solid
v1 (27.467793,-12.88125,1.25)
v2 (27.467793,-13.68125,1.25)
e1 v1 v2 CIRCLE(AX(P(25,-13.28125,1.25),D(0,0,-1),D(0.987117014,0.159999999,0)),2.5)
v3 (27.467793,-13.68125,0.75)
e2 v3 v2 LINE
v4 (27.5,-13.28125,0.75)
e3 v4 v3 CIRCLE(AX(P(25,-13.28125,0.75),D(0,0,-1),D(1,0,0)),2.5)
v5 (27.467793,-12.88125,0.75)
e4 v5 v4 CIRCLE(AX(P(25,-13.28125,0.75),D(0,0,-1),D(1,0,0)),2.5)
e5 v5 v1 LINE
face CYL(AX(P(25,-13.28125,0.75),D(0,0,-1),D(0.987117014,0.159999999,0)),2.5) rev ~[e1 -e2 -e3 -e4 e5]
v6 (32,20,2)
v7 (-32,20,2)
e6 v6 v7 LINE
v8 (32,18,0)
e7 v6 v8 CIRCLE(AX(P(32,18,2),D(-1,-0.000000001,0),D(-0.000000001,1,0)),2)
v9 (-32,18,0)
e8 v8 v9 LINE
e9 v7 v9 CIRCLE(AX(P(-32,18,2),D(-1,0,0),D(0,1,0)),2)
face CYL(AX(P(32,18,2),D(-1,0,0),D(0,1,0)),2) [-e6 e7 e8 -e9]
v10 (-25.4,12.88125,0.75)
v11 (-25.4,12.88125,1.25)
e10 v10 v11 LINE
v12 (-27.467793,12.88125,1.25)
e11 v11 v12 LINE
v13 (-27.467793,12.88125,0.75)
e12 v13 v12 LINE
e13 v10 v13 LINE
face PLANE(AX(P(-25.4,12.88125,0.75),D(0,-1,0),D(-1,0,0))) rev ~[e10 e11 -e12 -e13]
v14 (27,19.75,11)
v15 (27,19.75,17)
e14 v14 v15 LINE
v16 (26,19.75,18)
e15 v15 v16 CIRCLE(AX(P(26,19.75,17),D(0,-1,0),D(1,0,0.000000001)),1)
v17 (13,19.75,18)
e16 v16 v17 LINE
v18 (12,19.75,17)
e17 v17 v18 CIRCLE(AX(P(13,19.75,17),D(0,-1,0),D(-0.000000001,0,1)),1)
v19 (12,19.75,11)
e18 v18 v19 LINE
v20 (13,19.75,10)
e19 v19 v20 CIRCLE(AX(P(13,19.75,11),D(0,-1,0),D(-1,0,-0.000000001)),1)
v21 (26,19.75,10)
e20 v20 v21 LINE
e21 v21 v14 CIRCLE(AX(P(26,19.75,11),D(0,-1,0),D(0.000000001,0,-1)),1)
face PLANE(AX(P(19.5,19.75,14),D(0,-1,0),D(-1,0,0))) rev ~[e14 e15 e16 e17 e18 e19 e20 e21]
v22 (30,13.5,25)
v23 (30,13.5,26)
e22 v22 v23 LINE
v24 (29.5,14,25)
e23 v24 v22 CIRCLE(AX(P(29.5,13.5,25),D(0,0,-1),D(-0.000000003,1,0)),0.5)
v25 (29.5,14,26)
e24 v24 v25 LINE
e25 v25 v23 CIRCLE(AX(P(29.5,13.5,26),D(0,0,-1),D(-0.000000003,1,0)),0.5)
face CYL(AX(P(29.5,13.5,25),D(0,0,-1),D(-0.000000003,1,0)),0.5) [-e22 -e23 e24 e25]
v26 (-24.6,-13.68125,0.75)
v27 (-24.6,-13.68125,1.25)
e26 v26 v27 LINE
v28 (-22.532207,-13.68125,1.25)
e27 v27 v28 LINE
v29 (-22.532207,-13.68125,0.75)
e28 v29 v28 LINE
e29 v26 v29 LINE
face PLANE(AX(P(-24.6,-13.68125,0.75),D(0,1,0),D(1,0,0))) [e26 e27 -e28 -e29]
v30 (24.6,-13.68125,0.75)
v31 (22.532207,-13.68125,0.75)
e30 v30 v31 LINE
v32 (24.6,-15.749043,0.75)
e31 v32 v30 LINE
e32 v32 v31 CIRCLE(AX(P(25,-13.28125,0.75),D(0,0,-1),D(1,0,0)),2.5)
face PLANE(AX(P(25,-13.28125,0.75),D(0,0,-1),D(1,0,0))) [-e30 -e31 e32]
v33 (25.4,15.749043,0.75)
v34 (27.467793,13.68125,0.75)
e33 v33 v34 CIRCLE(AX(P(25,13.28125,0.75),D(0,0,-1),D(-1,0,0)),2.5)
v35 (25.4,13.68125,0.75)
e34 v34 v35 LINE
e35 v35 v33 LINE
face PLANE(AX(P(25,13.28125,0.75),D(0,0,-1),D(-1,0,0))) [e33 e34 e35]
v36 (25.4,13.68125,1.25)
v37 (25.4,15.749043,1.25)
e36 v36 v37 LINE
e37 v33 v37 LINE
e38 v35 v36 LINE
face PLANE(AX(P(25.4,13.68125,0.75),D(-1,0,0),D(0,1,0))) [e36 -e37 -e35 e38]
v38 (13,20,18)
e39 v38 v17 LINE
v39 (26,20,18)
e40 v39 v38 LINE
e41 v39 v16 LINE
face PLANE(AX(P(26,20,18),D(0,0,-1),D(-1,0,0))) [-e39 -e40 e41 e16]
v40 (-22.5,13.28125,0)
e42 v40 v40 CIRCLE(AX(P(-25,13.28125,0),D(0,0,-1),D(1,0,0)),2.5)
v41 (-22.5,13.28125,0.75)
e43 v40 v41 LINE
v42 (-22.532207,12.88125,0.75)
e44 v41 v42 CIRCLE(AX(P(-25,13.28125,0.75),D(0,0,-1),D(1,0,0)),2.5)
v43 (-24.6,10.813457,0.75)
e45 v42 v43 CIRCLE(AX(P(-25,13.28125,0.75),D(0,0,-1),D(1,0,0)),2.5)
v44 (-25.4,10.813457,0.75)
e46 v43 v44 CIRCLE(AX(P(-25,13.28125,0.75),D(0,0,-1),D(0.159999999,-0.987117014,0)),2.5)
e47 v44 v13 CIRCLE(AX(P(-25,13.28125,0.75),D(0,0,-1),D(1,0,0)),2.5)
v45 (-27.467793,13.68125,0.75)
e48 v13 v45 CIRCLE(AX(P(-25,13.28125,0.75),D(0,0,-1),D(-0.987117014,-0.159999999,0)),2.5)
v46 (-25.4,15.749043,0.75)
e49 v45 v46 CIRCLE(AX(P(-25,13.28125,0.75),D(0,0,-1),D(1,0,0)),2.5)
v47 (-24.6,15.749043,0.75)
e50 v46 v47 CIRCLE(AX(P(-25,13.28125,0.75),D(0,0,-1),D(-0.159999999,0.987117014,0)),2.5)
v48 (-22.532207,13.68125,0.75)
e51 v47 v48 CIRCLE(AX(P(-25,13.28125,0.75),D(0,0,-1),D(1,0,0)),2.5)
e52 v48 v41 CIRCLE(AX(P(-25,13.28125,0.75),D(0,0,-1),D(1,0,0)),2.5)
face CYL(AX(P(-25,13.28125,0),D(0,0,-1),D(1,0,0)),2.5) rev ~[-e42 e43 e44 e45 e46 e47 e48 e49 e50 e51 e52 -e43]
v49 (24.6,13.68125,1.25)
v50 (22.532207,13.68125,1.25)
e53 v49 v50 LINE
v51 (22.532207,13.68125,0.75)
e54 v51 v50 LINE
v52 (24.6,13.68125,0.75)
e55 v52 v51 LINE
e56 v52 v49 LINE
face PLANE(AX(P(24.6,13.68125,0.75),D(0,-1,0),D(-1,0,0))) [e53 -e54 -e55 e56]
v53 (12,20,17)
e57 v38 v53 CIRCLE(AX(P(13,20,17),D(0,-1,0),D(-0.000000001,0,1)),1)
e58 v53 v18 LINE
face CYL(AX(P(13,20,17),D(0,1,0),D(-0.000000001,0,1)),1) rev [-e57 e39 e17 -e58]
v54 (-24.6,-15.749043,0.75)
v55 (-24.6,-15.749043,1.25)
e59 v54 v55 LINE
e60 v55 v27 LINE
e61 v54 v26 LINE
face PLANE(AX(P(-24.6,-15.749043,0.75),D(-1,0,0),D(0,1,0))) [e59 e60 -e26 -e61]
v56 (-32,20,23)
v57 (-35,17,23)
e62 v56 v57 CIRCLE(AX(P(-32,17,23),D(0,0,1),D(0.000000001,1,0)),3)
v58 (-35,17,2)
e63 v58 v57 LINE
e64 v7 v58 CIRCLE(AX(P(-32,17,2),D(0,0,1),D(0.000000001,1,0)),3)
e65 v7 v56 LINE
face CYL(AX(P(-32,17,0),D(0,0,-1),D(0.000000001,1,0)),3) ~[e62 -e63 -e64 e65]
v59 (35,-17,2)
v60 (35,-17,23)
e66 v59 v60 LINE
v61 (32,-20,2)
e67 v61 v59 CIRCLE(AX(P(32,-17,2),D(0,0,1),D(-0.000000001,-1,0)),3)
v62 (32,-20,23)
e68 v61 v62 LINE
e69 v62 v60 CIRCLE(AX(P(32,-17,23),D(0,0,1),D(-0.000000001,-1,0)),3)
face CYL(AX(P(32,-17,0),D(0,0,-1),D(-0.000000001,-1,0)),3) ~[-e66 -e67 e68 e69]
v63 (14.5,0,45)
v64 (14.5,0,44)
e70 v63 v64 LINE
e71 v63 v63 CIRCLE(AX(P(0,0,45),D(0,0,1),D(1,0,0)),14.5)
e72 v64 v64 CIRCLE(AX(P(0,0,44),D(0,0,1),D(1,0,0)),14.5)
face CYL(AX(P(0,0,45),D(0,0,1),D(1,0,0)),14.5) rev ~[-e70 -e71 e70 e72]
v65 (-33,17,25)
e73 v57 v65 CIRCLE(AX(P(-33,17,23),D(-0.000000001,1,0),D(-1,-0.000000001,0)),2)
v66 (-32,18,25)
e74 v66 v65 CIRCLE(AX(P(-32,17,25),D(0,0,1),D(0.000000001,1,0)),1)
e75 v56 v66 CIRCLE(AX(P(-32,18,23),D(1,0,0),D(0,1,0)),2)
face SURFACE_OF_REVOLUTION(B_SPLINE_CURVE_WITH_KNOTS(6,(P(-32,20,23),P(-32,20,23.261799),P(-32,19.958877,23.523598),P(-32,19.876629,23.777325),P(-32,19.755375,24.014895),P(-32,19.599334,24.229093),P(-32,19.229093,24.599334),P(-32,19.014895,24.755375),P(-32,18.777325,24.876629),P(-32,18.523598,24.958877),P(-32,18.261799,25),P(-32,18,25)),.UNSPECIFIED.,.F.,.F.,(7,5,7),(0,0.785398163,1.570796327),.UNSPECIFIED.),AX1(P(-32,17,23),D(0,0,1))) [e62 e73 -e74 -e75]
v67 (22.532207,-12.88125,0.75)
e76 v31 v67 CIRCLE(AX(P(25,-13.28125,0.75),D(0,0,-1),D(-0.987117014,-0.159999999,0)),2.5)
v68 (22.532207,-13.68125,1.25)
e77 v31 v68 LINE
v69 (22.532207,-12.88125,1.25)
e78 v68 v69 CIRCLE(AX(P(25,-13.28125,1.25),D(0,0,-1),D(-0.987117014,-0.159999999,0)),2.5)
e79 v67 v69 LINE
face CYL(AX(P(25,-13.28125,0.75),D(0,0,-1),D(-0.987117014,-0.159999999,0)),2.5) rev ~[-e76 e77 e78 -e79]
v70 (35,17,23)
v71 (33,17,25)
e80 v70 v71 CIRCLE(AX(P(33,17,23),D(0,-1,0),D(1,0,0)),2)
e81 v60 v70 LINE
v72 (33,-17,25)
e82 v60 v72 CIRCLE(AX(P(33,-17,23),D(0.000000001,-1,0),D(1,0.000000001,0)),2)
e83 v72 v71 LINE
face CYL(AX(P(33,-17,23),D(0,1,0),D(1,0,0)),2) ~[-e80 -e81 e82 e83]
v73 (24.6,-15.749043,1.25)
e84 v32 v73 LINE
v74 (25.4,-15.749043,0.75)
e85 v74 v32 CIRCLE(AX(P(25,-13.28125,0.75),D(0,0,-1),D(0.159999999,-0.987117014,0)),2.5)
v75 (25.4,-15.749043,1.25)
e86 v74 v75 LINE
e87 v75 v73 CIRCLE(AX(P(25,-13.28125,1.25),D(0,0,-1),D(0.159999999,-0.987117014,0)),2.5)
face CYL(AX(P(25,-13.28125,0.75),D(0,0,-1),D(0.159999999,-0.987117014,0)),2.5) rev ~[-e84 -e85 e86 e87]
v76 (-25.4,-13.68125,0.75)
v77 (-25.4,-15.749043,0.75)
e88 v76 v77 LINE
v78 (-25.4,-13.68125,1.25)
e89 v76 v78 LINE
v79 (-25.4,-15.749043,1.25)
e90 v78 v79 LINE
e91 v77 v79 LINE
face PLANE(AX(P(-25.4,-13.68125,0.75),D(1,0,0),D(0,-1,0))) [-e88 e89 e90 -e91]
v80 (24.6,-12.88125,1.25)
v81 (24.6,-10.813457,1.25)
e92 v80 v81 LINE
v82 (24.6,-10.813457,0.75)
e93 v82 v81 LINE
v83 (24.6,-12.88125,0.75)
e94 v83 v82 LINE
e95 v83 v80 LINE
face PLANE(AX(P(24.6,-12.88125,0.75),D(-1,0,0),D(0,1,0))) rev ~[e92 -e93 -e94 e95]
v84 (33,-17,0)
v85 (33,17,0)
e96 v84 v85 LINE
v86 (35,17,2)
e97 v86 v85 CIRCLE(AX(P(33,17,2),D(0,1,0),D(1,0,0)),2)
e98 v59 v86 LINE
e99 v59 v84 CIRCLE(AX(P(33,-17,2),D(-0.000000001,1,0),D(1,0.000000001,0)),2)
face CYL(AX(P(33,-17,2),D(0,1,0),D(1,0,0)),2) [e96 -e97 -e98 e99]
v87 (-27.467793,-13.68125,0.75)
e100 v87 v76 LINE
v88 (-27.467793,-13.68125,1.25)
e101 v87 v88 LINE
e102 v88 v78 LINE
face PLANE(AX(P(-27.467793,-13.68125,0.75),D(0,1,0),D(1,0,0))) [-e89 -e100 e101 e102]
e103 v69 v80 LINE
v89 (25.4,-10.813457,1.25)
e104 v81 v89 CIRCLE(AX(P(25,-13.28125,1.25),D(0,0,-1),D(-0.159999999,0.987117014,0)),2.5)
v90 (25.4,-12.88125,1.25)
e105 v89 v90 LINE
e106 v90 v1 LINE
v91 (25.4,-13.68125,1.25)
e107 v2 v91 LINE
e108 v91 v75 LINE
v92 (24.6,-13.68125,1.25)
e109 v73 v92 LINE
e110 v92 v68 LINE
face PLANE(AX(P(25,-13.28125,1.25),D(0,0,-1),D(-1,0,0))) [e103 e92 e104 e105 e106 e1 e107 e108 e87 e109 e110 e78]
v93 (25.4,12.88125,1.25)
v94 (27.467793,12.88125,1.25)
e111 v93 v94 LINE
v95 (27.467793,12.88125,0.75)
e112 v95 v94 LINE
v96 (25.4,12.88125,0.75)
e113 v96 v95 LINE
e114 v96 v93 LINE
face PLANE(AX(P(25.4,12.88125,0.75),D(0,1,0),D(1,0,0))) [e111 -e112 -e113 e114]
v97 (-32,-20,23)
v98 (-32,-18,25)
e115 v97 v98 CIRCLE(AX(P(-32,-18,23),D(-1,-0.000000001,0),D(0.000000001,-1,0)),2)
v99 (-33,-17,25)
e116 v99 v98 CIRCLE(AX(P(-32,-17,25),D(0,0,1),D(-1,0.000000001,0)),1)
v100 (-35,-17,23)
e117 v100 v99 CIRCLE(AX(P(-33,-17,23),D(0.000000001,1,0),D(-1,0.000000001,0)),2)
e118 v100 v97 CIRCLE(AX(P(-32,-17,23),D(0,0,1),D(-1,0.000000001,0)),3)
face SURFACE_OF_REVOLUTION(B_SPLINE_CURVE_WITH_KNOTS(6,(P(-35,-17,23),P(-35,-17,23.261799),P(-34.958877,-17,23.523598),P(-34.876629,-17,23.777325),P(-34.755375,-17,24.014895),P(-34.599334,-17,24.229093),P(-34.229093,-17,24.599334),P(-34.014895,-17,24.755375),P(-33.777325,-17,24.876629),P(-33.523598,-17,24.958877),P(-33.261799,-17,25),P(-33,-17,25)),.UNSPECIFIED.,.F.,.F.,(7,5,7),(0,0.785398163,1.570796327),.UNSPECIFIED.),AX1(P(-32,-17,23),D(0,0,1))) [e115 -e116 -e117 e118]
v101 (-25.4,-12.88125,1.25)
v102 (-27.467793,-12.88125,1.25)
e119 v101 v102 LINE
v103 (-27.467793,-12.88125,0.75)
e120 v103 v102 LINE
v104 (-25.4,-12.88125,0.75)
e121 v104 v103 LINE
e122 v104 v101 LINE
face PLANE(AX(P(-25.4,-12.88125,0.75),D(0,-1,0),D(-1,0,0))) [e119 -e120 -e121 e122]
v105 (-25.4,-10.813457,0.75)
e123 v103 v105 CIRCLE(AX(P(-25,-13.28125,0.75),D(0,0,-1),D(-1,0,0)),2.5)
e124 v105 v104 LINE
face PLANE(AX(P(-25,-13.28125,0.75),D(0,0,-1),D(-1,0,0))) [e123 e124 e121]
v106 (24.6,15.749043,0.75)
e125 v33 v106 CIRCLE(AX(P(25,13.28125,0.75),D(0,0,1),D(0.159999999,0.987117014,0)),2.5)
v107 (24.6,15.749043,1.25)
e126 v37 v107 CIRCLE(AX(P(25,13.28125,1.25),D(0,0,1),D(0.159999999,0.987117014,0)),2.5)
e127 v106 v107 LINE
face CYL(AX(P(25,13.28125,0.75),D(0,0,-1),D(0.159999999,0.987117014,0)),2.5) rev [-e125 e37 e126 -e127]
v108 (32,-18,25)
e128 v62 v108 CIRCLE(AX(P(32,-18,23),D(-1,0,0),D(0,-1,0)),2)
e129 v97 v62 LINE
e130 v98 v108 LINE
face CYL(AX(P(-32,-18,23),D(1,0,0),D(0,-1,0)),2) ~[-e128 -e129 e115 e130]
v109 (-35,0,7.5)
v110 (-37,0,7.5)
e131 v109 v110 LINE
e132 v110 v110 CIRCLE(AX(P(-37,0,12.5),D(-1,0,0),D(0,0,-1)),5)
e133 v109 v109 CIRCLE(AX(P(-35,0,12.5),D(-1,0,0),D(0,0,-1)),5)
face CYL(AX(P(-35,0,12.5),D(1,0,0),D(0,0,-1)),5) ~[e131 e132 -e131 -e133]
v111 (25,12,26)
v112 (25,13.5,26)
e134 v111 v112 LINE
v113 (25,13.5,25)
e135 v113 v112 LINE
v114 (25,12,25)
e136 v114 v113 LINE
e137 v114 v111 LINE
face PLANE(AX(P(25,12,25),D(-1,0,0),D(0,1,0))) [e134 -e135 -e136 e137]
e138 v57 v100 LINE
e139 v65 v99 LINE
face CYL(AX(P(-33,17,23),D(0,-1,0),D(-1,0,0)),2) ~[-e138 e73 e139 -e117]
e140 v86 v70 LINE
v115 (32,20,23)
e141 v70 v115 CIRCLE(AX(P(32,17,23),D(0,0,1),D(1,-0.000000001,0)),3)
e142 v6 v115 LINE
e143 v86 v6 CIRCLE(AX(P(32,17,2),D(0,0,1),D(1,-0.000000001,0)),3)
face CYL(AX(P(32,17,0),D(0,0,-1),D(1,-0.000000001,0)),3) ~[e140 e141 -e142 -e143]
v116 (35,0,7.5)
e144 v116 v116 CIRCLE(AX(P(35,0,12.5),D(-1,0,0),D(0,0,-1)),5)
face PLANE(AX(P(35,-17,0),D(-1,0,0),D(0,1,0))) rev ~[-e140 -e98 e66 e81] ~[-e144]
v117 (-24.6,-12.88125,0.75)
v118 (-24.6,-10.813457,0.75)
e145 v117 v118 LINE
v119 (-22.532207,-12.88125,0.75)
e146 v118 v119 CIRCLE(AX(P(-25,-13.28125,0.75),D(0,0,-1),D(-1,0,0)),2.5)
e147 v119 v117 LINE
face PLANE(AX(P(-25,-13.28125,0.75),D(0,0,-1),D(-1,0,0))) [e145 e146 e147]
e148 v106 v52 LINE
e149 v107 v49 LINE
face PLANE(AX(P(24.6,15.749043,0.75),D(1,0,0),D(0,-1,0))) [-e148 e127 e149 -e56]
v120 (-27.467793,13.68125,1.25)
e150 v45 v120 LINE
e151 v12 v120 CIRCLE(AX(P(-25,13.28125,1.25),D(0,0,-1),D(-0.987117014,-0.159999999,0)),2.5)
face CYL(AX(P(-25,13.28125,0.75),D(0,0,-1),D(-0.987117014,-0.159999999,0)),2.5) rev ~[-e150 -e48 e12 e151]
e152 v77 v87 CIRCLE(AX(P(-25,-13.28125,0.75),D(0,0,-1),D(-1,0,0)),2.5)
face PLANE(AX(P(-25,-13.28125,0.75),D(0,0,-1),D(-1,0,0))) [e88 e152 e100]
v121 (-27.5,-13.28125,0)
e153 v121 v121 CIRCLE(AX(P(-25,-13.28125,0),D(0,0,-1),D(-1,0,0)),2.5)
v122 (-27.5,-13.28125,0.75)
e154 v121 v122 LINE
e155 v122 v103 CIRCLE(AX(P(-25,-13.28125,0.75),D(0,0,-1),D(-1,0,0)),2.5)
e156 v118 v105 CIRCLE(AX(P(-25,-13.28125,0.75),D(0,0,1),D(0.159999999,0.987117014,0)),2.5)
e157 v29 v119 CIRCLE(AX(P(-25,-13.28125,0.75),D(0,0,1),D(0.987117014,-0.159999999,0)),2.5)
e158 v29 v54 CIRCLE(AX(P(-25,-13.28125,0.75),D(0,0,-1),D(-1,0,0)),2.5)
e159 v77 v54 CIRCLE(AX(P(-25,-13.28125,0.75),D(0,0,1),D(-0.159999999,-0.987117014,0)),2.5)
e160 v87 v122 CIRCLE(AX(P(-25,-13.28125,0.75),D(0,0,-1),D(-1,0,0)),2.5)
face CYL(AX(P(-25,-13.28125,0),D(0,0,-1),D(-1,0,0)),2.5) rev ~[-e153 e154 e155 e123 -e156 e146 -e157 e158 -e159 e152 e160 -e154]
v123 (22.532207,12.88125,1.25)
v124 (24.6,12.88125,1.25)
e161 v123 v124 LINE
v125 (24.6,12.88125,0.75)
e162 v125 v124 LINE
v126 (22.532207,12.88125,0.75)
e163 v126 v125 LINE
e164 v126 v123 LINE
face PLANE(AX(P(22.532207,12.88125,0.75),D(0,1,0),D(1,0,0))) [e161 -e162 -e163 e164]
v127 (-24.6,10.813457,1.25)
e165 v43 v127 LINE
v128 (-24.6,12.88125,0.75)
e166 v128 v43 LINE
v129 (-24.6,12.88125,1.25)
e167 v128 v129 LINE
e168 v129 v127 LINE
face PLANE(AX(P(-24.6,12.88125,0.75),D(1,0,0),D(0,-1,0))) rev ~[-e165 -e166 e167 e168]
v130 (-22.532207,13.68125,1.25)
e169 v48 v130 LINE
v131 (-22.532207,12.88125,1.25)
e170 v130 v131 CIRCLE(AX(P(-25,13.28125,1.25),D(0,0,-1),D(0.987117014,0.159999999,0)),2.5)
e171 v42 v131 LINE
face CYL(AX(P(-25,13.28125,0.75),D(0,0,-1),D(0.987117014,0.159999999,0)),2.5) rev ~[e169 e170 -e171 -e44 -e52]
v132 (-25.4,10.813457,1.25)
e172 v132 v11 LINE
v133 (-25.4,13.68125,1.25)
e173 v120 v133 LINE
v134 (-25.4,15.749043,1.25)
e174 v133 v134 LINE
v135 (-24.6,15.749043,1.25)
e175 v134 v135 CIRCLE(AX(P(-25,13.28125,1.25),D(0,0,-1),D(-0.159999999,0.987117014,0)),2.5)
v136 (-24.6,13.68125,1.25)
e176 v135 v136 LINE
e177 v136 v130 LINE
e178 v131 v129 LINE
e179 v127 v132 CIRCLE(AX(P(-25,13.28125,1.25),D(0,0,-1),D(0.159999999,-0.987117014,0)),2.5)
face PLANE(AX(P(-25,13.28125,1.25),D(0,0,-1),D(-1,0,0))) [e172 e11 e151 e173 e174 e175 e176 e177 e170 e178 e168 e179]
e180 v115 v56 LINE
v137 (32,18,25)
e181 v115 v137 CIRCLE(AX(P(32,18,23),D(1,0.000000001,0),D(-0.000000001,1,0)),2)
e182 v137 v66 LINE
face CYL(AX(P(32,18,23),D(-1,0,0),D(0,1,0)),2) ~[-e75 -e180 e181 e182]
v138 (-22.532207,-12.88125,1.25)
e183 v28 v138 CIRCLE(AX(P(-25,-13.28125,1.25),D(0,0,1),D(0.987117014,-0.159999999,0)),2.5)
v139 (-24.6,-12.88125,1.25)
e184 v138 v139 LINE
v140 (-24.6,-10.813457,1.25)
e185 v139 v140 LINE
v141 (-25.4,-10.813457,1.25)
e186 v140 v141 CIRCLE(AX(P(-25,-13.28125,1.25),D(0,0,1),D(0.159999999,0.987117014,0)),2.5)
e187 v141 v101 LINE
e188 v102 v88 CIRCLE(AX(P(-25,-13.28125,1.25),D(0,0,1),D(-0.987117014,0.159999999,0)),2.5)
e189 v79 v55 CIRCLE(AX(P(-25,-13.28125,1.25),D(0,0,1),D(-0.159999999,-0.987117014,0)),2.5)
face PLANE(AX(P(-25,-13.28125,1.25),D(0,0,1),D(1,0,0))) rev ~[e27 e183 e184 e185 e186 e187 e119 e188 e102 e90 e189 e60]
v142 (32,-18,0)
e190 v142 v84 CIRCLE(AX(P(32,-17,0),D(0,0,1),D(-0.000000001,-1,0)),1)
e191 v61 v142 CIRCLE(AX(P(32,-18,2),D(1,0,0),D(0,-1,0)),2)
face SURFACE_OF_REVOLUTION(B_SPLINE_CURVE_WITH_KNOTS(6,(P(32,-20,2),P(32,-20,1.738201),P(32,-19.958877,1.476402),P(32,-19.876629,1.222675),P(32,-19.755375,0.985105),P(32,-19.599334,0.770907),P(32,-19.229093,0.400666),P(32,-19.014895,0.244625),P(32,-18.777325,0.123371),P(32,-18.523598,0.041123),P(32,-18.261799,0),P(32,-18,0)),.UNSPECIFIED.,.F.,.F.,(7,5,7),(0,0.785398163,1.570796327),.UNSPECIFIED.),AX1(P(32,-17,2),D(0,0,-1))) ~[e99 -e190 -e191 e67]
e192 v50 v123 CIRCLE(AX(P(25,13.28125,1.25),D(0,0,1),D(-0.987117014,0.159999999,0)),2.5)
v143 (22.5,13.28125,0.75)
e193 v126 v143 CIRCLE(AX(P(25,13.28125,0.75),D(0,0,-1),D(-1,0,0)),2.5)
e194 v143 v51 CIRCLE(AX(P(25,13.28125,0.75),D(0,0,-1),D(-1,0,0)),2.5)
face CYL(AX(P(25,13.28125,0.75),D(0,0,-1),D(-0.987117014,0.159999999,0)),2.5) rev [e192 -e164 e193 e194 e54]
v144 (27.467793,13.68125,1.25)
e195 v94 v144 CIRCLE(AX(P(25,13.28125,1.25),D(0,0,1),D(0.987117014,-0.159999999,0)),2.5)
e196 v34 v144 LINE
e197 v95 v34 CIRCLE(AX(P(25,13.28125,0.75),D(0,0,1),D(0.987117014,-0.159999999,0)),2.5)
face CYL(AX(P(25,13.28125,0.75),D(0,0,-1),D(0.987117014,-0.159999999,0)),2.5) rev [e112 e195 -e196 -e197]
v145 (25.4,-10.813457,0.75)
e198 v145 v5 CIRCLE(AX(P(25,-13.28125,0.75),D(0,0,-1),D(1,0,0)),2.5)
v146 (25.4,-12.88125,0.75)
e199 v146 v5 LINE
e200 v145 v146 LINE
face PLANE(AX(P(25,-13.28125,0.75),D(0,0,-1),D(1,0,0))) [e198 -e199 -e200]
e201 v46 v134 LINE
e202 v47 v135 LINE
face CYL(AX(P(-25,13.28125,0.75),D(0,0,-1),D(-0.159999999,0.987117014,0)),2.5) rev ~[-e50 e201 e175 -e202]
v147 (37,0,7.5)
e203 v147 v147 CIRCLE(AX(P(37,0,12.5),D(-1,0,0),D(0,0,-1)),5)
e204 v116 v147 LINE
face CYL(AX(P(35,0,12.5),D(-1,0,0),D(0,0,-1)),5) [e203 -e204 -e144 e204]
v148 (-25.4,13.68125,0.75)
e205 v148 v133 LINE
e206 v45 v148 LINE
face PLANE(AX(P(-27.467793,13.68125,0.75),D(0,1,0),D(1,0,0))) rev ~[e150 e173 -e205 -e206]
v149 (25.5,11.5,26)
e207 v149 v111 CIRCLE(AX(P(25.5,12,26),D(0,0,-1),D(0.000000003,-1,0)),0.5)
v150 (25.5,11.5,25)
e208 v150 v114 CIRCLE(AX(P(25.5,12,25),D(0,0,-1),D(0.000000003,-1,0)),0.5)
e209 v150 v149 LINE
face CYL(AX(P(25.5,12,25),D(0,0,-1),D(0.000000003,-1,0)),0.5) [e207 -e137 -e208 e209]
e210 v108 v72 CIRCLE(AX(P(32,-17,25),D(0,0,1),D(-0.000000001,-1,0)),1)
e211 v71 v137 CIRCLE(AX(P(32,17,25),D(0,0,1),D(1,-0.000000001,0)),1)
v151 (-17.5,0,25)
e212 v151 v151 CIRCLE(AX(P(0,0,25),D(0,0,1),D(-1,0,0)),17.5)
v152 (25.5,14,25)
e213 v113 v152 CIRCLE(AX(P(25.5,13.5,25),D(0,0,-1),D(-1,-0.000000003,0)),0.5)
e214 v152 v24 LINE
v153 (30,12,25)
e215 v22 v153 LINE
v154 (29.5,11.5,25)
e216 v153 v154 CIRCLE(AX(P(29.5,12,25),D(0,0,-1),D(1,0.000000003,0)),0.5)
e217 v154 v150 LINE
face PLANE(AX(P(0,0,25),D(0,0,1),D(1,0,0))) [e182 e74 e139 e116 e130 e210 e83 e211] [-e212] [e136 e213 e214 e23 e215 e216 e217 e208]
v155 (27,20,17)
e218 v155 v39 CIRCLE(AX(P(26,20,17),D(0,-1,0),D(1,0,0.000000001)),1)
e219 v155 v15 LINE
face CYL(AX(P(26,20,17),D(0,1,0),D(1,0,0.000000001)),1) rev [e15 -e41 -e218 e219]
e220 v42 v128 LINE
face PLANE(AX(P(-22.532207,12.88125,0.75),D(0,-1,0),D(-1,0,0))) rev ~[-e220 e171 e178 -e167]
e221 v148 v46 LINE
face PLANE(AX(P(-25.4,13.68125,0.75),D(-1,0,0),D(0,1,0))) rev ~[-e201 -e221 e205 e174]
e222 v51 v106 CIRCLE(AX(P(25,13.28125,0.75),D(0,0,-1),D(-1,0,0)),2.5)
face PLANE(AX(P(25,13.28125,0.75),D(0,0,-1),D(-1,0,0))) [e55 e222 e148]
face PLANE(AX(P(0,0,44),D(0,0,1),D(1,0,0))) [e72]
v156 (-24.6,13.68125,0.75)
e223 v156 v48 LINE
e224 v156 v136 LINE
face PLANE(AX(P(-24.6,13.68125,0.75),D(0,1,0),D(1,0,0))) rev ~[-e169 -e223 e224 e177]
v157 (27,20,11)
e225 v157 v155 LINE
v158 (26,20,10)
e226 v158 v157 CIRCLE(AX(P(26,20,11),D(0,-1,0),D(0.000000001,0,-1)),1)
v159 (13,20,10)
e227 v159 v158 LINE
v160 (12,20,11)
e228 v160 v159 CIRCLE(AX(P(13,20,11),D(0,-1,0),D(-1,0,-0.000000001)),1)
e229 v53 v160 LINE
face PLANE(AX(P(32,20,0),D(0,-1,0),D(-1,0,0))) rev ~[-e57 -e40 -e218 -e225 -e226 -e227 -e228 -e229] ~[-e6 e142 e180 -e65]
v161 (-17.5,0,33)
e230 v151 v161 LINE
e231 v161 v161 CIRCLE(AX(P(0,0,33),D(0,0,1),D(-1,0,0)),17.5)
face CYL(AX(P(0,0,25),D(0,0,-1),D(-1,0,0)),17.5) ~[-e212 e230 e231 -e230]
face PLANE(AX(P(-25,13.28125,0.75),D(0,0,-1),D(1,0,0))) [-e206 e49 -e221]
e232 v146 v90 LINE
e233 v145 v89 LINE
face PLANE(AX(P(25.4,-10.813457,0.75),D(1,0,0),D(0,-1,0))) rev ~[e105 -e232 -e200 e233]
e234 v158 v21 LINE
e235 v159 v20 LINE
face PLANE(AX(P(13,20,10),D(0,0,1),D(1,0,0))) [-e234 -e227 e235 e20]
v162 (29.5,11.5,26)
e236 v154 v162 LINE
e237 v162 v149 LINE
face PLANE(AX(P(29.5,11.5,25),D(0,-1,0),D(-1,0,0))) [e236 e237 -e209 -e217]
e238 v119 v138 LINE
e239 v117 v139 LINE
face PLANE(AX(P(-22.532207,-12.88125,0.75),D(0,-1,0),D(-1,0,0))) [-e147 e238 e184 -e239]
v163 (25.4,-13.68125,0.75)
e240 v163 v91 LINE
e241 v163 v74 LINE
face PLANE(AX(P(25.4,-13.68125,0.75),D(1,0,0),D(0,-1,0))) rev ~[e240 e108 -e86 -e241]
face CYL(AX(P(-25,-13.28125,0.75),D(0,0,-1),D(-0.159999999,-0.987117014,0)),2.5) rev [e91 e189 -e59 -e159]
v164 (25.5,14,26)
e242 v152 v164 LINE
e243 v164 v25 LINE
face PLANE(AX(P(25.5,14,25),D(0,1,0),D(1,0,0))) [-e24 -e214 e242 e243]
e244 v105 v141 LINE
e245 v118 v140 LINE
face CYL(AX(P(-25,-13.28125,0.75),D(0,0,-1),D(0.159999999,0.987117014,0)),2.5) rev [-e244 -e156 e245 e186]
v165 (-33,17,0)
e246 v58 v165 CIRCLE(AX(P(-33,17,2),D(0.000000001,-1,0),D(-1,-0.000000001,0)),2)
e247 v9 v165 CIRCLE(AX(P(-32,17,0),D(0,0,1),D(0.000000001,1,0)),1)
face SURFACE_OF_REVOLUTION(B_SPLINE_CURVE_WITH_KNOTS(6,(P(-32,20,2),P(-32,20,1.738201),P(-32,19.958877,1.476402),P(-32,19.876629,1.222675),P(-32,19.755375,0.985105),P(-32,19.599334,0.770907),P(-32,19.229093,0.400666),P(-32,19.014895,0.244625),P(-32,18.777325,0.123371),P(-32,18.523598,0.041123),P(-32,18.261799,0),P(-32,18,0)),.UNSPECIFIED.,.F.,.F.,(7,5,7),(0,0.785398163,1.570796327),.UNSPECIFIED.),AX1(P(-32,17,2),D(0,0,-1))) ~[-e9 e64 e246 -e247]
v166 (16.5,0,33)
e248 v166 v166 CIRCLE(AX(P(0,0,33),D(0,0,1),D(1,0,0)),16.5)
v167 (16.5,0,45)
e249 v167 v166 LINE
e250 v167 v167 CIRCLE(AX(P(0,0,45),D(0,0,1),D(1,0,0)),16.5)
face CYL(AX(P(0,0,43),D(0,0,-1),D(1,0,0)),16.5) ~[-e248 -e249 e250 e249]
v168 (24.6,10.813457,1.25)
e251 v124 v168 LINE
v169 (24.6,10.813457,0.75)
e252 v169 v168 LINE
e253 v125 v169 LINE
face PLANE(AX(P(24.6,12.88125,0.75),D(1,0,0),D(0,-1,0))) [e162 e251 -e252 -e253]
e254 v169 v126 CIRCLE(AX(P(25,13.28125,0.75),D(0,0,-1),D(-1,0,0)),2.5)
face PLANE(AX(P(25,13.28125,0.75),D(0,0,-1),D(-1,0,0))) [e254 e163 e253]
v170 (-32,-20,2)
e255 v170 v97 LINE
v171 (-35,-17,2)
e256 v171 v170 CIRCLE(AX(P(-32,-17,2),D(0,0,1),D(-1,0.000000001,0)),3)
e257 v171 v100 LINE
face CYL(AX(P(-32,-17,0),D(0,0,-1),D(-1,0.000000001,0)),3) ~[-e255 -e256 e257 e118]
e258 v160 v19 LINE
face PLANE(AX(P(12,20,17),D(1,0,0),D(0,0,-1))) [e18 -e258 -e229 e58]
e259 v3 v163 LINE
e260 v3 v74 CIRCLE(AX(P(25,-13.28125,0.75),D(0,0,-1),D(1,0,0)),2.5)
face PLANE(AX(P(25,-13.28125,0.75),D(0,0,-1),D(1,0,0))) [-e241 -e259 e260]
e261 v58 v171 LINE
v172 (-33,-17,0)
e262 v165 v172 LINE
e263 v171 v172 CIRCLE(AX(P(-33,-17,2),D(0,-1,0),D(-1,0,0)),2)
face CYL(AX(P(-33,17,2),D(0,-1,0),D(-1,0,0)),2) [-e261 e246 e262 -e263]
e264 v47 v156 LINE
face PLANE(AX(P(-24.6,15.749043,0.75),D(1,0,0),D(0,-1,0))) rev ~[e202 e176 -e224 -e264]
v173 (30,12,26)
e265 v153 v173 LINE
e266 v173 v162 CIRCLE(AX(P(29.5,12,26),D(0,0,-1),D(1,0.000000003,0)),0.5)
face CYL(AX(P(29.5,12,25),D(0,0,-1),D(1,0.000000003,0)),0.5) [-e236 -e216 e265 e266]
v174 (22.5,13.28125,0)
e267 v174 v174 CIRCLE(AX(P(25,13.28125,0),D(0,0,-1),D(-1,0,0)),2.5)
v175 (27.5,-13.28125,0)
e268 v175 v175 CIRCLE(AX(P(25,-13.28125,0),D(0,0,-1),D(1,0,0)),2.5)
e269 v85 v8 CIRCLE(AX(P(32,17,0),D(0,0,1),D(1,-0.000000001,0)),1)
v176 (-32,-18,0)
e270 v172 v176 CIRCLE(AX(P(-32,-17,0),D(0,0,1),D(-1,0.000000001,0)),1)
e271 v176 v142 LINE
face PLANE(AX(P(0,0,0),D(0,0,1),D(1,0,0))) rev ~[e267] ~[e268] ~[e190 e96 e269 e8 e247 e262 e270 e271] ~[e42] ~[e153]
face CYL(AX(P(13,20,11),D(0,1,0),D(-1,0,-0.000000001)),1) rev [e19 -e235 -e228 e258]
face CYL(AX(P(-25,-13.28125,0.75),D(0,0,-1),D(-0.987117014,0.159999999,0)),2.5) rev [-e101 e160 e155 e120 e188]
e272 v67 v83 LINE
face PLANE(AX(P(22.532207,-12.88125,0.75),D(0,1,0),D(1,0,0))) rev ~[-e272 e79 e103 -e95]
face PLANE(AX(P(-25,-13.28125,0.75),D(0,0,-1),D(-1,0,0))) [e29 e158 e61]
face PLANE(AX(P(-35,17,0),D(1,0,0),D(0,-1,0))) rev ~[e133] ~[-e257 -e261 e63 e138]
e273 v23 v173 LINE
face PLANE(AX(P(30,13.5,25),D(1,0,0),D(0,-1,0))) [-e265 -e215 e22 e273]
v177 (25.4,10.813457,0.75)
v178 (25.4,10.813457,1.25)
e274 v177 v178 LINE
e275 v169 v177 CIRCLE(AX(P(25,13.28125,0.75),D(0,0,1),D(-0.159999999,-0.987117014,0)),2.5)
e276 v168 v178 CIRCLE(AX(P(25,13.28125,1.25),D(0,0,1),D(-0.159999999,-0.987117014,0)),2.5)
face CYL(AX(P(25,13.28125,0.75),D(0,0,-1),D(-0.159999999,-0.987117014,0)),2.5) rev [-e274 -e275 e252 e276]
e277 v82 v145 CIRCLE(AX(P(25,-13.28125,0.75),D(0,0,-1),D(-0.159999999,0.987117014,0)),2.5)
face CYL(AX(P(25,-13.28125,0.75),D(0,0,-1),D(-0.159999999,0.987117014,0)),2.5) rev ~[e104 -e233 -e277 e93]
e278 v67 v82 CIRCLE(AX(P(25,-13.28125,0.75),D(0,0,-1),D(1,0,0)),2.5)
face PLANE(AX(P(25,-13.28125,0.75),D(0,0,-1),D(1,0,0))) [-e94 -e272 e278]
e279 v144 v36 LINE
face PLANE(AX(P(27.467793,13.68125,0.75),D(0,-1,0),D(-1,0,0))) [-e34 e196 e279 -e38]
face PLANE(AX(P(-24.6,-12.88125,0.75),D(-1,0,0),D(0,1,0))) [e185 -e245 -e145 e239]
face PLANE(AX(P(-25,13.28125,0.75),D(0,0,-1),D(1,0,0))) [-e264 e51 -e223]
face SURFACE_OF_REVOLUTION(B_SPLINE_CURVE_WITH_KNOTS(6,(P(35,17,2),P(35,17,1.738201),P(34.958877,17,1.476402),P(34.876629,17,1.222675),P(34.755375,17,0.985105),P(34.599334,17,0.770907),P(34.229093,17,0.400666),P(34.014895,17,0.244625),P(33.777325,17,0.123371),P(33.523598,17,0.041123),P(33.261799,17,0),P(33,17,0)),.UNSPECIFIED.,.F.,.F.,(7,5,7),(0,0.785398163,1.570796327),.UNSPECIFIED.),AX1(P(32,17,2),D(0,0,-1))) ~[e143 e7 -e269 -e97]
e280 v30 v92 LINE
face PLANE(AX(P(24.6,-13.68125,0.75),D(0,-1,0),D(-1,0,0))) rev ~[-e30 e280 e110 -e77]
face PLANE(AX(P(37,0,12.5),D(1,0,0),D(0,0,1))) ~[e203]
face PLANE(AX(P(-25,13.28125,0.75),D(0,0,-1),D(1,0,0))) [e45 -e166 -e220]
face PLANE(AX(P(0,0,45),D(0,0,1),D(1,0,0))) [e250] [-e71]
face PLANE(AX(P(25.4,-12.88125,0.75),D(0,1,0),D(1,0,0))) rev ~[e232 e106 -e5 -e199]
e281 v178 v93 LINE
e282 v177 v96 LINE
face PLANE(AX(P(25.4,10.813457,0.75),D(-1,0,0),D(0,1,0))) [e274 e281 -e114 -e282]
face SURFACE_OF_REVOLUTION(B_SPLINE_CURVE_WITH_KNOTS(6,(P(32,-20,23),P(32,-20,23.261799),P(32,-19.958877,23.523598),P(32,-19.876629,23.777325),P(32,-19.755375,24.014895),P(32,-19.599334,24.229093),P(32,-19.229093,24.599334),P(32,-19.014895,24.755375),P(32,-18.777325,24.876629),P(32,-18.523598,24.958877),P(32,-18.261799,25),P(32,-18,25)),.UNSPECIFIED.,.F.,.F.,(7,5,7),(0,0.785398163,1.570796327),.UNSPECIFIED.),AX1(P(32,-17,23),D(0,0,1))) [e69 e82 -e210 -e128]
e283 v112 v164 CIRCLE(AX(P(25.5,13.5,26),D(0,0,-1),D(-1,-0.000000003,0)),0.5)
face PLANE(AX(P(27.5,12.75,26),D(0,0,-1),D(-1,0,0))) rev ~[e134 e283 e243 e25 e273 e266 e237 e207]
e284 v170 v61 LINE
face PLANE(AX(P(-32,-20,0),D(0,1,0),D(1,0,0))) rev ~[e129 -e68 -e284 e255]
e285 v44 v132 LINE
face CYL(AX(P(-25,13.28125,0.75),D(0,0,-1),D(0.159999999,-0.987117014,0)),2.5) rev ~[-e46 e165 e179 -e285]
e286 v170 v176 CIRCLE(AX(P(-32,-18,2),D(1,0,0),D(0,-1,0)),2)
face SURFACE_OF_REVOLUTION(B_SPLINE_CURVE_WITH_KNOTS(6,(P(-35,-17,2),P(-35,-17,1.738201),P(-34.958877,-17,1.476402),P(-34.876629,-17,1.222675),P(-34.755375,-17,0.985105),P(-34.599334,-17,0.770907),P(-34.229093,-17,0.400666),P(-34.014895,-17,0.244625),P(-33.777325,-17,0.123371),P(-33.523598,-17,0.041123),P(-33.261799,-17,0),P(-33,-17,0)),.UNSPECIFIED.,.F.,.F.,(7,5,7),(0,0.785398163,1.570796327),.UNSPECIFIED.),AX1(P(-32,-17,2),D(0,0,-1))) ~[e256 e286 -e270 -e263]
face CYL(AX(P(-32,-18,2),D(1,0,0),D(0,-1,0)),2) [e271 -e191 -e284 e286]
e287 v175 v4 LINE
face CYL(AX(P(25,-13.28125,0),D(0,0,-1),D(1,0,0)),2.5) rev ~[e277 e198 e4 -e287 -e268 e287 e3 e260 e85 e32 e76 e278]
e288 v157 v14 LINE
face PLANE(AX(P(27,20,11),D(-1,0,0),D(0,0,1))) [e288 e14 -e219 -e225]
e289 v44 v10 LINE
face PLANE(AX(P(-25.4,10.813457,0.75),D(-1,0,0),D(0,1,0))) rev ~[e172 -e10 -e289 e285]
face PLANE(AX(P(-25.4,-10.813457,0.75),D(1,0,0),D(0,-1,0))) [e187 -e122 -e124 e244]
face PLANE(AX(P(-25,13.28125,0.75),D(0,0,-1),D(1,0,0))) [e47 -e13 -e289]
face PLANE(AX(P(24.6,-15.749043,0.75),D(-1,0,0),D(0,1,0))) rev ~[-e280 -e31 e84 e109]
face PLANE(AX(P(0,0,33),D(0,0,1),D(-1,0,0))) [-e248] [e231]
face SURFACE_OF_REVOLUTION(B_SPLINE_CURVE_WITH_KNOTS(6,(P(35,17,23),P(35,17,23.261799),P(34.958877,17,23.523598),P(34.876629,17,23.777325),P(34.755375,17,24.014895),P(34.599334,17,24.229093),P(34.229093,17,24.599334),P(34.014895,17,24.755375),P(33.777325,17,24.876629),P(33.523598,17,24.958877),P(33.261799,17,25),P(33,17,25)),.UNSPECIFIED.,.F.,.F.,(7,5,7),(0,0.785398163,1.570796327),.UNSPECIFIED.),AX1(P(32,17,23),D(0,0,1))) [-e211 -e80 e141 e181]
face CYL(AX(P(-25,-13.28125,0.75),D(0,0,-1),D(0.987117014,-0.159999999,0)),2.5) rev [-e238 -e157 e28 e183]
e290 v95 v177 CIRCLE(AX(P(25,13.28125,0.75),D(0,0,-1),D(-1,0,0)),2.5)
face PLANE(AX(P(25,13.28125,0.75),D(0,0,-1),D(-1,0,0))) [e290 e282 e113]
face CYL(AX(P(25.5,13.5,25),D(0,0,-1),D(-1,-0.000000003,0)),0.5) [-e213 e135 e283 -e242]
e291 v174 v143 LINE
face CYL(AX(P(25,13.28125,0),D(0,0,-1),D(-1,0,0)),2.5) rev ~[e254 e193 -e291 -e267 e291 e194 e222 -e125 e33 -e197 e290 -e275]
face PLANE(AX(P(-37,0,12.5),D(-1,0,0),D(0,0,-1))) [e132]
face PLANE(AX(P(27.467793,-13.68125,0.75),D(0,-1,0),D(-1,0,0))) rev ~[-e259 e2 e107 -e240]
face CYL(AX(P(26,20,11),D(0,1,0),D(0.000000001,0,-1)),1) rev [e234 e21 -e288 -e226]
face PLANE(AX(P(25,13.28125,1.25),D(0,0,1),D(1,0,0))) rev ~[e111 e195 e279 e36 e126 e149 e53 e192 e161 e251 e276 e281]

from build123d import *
from build123d.topology import SkipClean

# Parameters (mm, degrees)
BOSS_EXTRUDE1_DEPTH = 25
FILLET1_R           = 2
SKETCH2_R           = 17.5
BOSS_EXTRUDE2_DEPTH = 8
SKETCH3_R           = 16.5
BOSS_EXTRUDE3_DEPTH = 12
SKETCH4_R           = 14.5
CUT_EXTRUDE1_DEPTH  = 2
SKETCH5_R           = 16.5
BOSS_EXTRUDE4_DEPTH = 1
SKETCH6_R           = 2.5
CUT_EXTRUDE2_DEPTH  = 0.75
CUT_EXTRUDE3_DEPTH  = 0.5
CUT_EXTRUDE4_DEPTH  = 0.25
SKETCH11_R          = 5
BOSS_EXTRUDE5_DEPTH = 2
BOSS_EXTRUDE6_DEPTH = 1


with BuildPart() as part:
    # Sketch1 → Boss-Extrude1 (new body)
    with BuildSketch(Plane.XY):
        with BuildLine():
            Line((-32, -20), (32, -20))
            ThreePointArc((32, -20), (34.121320344, -19.121320344), (35, -17))
            Line((35, -17), (35, 17))
            ThreePointArc((35, 17), (34.121320344, 19.121320344), (32, 20))
            Line((32, 20), (-32, 20))
            ThreePointArc((-32, 20), (-34.121320344, 19.121320344), (-35, 17))
            Line((-35, 17), (-35, -17))
            ThreePointArc((-35, -17), (-34.121320344, -19.121320344), (-32, -20))
        make_face()
    extrude(amount=BOSS_EXTRUDE1_DEPTH)

    # Fillet1
    fillet1_edges = [part.edges().sort_by_distance(p)[0] for p in [
        (0, -20, 0),
        (-34.121320344, -19.121320344, 0),
        (-35, 0, 0),
        (-34.121320344, 19.121320344, 0),
        (-34.121320344, -19.121320344, 25),
        (0, -20, 25),
        (34.121320344, -19.121320344, 25),
        (35, 0, 25),
        (34.121320344, 19.121320344, 25),
        (0, 20, 25),
        (-34.121320344, 19.121320344, 25),
        (0, 20, 0),
        (-35, 0, 25),
        (34.121320344, 19.121320344, 0),
        (35, 0, 0),
        (34.121320344, -19.121320344, 0),
    ]]
    fillet(fillet1_edges, radius=FILLET1_R)

    # Sketch2 → Boss-Extrude2 (add)
    with BuildSketch(Plane.XY.offset(25)):
        with Locations(Location((0, 0, 0), (0, 0, 180))):
            Circle(SKETCH2_R)
    extrude(amount=BOSS_EXTRUDE2_DEPTH)

    # Sketch3 → Boss-Extrude3 (add)
    with BuildSketch(Plane.XY.offset(33)):
        Circle(SKETCH3_R)
    extrude(amount=BOSS_EXTRUDE3_DEPTH)

    # Sketch4 → Cut-Extrude1 (cut)
    with BuildSketch(Plane.XY.offset(45)):
        Circle(SKETCH4_R)
    extrude(amount=-CUT_EXTRUDE1_DEPTH, mode=Mode.SUBTRACT)

    # Sketch5 → Boss-Extrude4 (add)
    with BuildSketch(Plane.XY.offset(43)):
        Circle(SKETCH5_R)
    extrude(amount=BOSS_EXTRUDE4_DEPTH)

    # Sketch6 → Cut-Extrude2 (cut)
    with BuildSketch(Plane(origin=(0, 0, 0), x_dir=(-1, 0, 0), z_dir=(0, 0, -1))):
        with Locations((-25, 13.28125)):
            Circle(SKETCH6_R)
        with Locations(Location((25, 13.28125, 0), (0, 0, 180))):
            Circle(SKETCH6_R)
        with Locations((25, -13.28125)):
            Circle(SKETCH6_R)
        with Locations(Location((-25, -13.28125, 0), (0, 0, 180))):
            Circle(SKETCH6_R)
    extrude(amount=-CUT_EXTRUDE2_DEPTH, mode=Mode.SUBTRACT)

    # Sketch7 → Cut-Extrude3 (cut)
    with SkipClean():  # the faces are left unmerged after this step: merging them gives an invalid solid
        with BuildSketch(Plane(origin=(0, 0, 0.75), x_dir=(-1, 0, 0), z_dir=(0, 0, -1))):
            with BuildLine():
                Line((-24.6, 15.749042536), (-24.6, 13.68125))
                Line((-24.6, 13.68125), (-22.532207464, 13.68125))
                ThreePointArc((-22.532207464, 13.68125), (-22.5, 13.28125), (-22.532207464, 12.88125))
                Line((-22.532207464, 12.88125), (-24.6, 12.88125))
                Line((-24.6, 12.88125), (-24.6, 10.813457464))
                ThreePointArc((-24.6, 10.813457464), (-25, 10.78125), (-25.4, 10.813457464))
                Line((-25.4, 10.813457464), (-25.4, 12.88125))
                Line((-25.4, 12.88125), (-27.467792536, 12.88125))
                ThreePointArc((-27.467792536, 12.88125), (-27.5, 13.28125), (-27.467792536, 13.68125))
                Line((-27.467792536, 13.68125), (-25.4, 13.68125))
                Line((-25.4, 13.68125), (-25.4, 15.749042536))
                ThreePointArc((-25.4, 15.749042536), (-25, 15.78125), (-24.6, 15.749042536))
            make_face()
            with BuildLine():
                Line((25.4, 13.68125), (25.4, 15.749042536))
                ThreePointArc((25.4, 15.749042536), (25, 15.78125), (24.6, 15.749042536))
                Line((24.6, 15.749042536), (24.6, 13.68125))
                Line((24.6, 13.68125), (22.532207464, 13.68125))
                ThreePointArc((22.532207464, 13.68125), (22.5, 13.28125), (22.532207464, 12.88125))
                Line((22.532207464, 12.88125), (24.6, 12.88125))
                Line((24.6, 12.88125), (24.6, 10.813457464))
                ThreePointArc((24.6, 10.813457464), (25, 10.78125), (25.4, 10.813457464))
                Line((25.4, 10.813457464), (25.4, 12.88125))
                Line((25.4, 12.88125), (27.467792536, 12.88125))
                ThreePointArc((27.467792536, 12.88125), (27.5, 13.28125), (27.467792536, 13.68125))
                Line((27.467792536, 13.68125), (25.4, 13.68125))
            make_face()
            with BuildLine():
                Line((24.6, -15.749042536), (24.6, -13.68125))
                Line((24.6, -13.68125), (22.532207464, -13.68125))
                ThreePointArc((22.532207464, -13.68125), (22.5, -13.28125), (22.532207464, -12.88125))
                Line((22.532207464, -12.88125), (24.6, -12.88125))
                Line((24.6, -12.88125), (24.6, -10.813457464))
                ThreePointArc((24.6, -10.813457464), (25, -10.78125), (25.4, -10.813457464))
                Line((25.4, -10.813457464), (25.4, -12.88125))
                Line((25.4, -12.88125), (27.467792536, -12.88125))
                ThreePointArc((27.467792536, -12.88125), (27.5, -13.28125), (27.467792536, -13.68125))
                Line((27.467792536, -13.68125), (25.4, -13.68125))
                Line((25.4, -13.68125), (25.4, -15.749042536))
                ThreePointArc((25.4, -15.749042536), (25, -15.78125), (24.6, -15.749042536))
            make_face()
            with BuildLine():
                Line((-25.4, -13.68125), (-25.4, -15.749042536))
                ThreePointArc((-25.4, -15.749042536), (-25, -15.78125), (-24.6, -15.749042536))
                Line((-24.6, -15.749042536), (-24.6, -13.68125))
                Line((-24.6, -13.68125), (-22.532207464, -13.68125))
                ThreePointArc((-22.532207464, -13.68125), (-22.5, -13.28125), (-22.532207464, -12.88125))
                Line((-22.532207464, -12.88125), (-24.6, -12.88125))
                Line((-24.6, -12.88125), (-24.6, -10.813457464))
                ThreePointArc((-24.6, -10.813457464), (-25, -10.78125), (-25.4, -10.813457464))
                Line((-25.4, -10.813457464), (-25.4, -12.88125))
                Line((-25.4, -12.88125), (-27.467792536, -12.88125))
                ThreePointArc((-27.467792536, -12.88125), (-27.5, -13.28125), (-27.467792536, -13.68125))
                Line((-27.467792536, -13.68125), (-25.4, -13.68125))
            make_face()
        extrude(amount=-CUT_EXTRUDE3_DEPTH, mode=Mode.SUBTRACT)

    # Sketch8 → Cut-Extrude4 (cut)
    with SkipClean():  # the faces are left unmerged after this step: merging them gives an invalid solid
        with BuildSketch(Plane(origin=(0, 20, 0), x_dir=(1, 0, 0), z_dir=(0, 1, 0))):
            with BuildLine():
                Line((26, -18), (13, -18))
                ThreePointArc((13, -18), (12.292893219, -17.707106781), (12, -17))
                Line((12, -17), (12, -11))
                ThreePointArc((12, -11), (12.292893219, -10.292893219), (13, -10))
                Line((13, -10), (26, -10))
                ThreePointArc((26, -10), (26.707106781, -10.292893219), (27, -11))
                Line((27, -11), (27, -17))
                ThreePointArc((27, -17), (26.707106781, -17.707106781), (26, -18))
            make_face()
        extrude(amount=-CUT_EXTRUDE4_DEPTH, mode=Mode.SUBTRACT)

    # Sketch11 → Boss-Extrude5 (add)
    with SkipClean():  # the faces are left unmerged after this step: merging them gives an invalid solid
        with BuildSketch(Plane.ZY.offset(35)):
            with Locations(Location((12.5, 0, 0), (0, 0, 180))):
                Circle(SKETCH11_R)
        boss_extrude5 = extrude(amount=BOSS_EXTRUDE5_DEPTH)

    # Mirror1: Boss-Extrude5 across plane
    with SkipClean():  # the faces are left unmerged after this step: merging them gives an invalid solid
        add(boss_extrude5.mirror(Plane(origin=(0, 0, 0), x_dir=(0, 0, 1), z_dir=(1, 0, 0))))

    # Sketch12 → Boss-Extrude6 (add)
    with SkipClean():  # the faces are left unmerged after this step: merging them gives an invalid solid
        with BuildSketch(Plane.XY.offset(25)):
            with BuildLine():
                Line((25.5, 14), (29.5, 14))
                ThreePointArc((29.5, 14), (29.853553391, 13.853553391), (30, 13.5))
                Line((30, 13.5), (30, 12))
                ThreePointArc((30, 12), (29.853553391, 11.646446609), (29.5, 11.5))
                Line((29.5, 11.5), (25.5, 11.5))
                ThreePointArc((25.5, 11.5), (25.146446609, 11.646446609), (25, 12))
                Line((25, 12), (25, 13.5))
                ThreePointArc((25, 13.5), (25.146446609, 13.853553391), (25.5, 14))
            make_face()
        extrude(amount=BOSS_EXTRUDE6_DEPTH)


solid = part.part
